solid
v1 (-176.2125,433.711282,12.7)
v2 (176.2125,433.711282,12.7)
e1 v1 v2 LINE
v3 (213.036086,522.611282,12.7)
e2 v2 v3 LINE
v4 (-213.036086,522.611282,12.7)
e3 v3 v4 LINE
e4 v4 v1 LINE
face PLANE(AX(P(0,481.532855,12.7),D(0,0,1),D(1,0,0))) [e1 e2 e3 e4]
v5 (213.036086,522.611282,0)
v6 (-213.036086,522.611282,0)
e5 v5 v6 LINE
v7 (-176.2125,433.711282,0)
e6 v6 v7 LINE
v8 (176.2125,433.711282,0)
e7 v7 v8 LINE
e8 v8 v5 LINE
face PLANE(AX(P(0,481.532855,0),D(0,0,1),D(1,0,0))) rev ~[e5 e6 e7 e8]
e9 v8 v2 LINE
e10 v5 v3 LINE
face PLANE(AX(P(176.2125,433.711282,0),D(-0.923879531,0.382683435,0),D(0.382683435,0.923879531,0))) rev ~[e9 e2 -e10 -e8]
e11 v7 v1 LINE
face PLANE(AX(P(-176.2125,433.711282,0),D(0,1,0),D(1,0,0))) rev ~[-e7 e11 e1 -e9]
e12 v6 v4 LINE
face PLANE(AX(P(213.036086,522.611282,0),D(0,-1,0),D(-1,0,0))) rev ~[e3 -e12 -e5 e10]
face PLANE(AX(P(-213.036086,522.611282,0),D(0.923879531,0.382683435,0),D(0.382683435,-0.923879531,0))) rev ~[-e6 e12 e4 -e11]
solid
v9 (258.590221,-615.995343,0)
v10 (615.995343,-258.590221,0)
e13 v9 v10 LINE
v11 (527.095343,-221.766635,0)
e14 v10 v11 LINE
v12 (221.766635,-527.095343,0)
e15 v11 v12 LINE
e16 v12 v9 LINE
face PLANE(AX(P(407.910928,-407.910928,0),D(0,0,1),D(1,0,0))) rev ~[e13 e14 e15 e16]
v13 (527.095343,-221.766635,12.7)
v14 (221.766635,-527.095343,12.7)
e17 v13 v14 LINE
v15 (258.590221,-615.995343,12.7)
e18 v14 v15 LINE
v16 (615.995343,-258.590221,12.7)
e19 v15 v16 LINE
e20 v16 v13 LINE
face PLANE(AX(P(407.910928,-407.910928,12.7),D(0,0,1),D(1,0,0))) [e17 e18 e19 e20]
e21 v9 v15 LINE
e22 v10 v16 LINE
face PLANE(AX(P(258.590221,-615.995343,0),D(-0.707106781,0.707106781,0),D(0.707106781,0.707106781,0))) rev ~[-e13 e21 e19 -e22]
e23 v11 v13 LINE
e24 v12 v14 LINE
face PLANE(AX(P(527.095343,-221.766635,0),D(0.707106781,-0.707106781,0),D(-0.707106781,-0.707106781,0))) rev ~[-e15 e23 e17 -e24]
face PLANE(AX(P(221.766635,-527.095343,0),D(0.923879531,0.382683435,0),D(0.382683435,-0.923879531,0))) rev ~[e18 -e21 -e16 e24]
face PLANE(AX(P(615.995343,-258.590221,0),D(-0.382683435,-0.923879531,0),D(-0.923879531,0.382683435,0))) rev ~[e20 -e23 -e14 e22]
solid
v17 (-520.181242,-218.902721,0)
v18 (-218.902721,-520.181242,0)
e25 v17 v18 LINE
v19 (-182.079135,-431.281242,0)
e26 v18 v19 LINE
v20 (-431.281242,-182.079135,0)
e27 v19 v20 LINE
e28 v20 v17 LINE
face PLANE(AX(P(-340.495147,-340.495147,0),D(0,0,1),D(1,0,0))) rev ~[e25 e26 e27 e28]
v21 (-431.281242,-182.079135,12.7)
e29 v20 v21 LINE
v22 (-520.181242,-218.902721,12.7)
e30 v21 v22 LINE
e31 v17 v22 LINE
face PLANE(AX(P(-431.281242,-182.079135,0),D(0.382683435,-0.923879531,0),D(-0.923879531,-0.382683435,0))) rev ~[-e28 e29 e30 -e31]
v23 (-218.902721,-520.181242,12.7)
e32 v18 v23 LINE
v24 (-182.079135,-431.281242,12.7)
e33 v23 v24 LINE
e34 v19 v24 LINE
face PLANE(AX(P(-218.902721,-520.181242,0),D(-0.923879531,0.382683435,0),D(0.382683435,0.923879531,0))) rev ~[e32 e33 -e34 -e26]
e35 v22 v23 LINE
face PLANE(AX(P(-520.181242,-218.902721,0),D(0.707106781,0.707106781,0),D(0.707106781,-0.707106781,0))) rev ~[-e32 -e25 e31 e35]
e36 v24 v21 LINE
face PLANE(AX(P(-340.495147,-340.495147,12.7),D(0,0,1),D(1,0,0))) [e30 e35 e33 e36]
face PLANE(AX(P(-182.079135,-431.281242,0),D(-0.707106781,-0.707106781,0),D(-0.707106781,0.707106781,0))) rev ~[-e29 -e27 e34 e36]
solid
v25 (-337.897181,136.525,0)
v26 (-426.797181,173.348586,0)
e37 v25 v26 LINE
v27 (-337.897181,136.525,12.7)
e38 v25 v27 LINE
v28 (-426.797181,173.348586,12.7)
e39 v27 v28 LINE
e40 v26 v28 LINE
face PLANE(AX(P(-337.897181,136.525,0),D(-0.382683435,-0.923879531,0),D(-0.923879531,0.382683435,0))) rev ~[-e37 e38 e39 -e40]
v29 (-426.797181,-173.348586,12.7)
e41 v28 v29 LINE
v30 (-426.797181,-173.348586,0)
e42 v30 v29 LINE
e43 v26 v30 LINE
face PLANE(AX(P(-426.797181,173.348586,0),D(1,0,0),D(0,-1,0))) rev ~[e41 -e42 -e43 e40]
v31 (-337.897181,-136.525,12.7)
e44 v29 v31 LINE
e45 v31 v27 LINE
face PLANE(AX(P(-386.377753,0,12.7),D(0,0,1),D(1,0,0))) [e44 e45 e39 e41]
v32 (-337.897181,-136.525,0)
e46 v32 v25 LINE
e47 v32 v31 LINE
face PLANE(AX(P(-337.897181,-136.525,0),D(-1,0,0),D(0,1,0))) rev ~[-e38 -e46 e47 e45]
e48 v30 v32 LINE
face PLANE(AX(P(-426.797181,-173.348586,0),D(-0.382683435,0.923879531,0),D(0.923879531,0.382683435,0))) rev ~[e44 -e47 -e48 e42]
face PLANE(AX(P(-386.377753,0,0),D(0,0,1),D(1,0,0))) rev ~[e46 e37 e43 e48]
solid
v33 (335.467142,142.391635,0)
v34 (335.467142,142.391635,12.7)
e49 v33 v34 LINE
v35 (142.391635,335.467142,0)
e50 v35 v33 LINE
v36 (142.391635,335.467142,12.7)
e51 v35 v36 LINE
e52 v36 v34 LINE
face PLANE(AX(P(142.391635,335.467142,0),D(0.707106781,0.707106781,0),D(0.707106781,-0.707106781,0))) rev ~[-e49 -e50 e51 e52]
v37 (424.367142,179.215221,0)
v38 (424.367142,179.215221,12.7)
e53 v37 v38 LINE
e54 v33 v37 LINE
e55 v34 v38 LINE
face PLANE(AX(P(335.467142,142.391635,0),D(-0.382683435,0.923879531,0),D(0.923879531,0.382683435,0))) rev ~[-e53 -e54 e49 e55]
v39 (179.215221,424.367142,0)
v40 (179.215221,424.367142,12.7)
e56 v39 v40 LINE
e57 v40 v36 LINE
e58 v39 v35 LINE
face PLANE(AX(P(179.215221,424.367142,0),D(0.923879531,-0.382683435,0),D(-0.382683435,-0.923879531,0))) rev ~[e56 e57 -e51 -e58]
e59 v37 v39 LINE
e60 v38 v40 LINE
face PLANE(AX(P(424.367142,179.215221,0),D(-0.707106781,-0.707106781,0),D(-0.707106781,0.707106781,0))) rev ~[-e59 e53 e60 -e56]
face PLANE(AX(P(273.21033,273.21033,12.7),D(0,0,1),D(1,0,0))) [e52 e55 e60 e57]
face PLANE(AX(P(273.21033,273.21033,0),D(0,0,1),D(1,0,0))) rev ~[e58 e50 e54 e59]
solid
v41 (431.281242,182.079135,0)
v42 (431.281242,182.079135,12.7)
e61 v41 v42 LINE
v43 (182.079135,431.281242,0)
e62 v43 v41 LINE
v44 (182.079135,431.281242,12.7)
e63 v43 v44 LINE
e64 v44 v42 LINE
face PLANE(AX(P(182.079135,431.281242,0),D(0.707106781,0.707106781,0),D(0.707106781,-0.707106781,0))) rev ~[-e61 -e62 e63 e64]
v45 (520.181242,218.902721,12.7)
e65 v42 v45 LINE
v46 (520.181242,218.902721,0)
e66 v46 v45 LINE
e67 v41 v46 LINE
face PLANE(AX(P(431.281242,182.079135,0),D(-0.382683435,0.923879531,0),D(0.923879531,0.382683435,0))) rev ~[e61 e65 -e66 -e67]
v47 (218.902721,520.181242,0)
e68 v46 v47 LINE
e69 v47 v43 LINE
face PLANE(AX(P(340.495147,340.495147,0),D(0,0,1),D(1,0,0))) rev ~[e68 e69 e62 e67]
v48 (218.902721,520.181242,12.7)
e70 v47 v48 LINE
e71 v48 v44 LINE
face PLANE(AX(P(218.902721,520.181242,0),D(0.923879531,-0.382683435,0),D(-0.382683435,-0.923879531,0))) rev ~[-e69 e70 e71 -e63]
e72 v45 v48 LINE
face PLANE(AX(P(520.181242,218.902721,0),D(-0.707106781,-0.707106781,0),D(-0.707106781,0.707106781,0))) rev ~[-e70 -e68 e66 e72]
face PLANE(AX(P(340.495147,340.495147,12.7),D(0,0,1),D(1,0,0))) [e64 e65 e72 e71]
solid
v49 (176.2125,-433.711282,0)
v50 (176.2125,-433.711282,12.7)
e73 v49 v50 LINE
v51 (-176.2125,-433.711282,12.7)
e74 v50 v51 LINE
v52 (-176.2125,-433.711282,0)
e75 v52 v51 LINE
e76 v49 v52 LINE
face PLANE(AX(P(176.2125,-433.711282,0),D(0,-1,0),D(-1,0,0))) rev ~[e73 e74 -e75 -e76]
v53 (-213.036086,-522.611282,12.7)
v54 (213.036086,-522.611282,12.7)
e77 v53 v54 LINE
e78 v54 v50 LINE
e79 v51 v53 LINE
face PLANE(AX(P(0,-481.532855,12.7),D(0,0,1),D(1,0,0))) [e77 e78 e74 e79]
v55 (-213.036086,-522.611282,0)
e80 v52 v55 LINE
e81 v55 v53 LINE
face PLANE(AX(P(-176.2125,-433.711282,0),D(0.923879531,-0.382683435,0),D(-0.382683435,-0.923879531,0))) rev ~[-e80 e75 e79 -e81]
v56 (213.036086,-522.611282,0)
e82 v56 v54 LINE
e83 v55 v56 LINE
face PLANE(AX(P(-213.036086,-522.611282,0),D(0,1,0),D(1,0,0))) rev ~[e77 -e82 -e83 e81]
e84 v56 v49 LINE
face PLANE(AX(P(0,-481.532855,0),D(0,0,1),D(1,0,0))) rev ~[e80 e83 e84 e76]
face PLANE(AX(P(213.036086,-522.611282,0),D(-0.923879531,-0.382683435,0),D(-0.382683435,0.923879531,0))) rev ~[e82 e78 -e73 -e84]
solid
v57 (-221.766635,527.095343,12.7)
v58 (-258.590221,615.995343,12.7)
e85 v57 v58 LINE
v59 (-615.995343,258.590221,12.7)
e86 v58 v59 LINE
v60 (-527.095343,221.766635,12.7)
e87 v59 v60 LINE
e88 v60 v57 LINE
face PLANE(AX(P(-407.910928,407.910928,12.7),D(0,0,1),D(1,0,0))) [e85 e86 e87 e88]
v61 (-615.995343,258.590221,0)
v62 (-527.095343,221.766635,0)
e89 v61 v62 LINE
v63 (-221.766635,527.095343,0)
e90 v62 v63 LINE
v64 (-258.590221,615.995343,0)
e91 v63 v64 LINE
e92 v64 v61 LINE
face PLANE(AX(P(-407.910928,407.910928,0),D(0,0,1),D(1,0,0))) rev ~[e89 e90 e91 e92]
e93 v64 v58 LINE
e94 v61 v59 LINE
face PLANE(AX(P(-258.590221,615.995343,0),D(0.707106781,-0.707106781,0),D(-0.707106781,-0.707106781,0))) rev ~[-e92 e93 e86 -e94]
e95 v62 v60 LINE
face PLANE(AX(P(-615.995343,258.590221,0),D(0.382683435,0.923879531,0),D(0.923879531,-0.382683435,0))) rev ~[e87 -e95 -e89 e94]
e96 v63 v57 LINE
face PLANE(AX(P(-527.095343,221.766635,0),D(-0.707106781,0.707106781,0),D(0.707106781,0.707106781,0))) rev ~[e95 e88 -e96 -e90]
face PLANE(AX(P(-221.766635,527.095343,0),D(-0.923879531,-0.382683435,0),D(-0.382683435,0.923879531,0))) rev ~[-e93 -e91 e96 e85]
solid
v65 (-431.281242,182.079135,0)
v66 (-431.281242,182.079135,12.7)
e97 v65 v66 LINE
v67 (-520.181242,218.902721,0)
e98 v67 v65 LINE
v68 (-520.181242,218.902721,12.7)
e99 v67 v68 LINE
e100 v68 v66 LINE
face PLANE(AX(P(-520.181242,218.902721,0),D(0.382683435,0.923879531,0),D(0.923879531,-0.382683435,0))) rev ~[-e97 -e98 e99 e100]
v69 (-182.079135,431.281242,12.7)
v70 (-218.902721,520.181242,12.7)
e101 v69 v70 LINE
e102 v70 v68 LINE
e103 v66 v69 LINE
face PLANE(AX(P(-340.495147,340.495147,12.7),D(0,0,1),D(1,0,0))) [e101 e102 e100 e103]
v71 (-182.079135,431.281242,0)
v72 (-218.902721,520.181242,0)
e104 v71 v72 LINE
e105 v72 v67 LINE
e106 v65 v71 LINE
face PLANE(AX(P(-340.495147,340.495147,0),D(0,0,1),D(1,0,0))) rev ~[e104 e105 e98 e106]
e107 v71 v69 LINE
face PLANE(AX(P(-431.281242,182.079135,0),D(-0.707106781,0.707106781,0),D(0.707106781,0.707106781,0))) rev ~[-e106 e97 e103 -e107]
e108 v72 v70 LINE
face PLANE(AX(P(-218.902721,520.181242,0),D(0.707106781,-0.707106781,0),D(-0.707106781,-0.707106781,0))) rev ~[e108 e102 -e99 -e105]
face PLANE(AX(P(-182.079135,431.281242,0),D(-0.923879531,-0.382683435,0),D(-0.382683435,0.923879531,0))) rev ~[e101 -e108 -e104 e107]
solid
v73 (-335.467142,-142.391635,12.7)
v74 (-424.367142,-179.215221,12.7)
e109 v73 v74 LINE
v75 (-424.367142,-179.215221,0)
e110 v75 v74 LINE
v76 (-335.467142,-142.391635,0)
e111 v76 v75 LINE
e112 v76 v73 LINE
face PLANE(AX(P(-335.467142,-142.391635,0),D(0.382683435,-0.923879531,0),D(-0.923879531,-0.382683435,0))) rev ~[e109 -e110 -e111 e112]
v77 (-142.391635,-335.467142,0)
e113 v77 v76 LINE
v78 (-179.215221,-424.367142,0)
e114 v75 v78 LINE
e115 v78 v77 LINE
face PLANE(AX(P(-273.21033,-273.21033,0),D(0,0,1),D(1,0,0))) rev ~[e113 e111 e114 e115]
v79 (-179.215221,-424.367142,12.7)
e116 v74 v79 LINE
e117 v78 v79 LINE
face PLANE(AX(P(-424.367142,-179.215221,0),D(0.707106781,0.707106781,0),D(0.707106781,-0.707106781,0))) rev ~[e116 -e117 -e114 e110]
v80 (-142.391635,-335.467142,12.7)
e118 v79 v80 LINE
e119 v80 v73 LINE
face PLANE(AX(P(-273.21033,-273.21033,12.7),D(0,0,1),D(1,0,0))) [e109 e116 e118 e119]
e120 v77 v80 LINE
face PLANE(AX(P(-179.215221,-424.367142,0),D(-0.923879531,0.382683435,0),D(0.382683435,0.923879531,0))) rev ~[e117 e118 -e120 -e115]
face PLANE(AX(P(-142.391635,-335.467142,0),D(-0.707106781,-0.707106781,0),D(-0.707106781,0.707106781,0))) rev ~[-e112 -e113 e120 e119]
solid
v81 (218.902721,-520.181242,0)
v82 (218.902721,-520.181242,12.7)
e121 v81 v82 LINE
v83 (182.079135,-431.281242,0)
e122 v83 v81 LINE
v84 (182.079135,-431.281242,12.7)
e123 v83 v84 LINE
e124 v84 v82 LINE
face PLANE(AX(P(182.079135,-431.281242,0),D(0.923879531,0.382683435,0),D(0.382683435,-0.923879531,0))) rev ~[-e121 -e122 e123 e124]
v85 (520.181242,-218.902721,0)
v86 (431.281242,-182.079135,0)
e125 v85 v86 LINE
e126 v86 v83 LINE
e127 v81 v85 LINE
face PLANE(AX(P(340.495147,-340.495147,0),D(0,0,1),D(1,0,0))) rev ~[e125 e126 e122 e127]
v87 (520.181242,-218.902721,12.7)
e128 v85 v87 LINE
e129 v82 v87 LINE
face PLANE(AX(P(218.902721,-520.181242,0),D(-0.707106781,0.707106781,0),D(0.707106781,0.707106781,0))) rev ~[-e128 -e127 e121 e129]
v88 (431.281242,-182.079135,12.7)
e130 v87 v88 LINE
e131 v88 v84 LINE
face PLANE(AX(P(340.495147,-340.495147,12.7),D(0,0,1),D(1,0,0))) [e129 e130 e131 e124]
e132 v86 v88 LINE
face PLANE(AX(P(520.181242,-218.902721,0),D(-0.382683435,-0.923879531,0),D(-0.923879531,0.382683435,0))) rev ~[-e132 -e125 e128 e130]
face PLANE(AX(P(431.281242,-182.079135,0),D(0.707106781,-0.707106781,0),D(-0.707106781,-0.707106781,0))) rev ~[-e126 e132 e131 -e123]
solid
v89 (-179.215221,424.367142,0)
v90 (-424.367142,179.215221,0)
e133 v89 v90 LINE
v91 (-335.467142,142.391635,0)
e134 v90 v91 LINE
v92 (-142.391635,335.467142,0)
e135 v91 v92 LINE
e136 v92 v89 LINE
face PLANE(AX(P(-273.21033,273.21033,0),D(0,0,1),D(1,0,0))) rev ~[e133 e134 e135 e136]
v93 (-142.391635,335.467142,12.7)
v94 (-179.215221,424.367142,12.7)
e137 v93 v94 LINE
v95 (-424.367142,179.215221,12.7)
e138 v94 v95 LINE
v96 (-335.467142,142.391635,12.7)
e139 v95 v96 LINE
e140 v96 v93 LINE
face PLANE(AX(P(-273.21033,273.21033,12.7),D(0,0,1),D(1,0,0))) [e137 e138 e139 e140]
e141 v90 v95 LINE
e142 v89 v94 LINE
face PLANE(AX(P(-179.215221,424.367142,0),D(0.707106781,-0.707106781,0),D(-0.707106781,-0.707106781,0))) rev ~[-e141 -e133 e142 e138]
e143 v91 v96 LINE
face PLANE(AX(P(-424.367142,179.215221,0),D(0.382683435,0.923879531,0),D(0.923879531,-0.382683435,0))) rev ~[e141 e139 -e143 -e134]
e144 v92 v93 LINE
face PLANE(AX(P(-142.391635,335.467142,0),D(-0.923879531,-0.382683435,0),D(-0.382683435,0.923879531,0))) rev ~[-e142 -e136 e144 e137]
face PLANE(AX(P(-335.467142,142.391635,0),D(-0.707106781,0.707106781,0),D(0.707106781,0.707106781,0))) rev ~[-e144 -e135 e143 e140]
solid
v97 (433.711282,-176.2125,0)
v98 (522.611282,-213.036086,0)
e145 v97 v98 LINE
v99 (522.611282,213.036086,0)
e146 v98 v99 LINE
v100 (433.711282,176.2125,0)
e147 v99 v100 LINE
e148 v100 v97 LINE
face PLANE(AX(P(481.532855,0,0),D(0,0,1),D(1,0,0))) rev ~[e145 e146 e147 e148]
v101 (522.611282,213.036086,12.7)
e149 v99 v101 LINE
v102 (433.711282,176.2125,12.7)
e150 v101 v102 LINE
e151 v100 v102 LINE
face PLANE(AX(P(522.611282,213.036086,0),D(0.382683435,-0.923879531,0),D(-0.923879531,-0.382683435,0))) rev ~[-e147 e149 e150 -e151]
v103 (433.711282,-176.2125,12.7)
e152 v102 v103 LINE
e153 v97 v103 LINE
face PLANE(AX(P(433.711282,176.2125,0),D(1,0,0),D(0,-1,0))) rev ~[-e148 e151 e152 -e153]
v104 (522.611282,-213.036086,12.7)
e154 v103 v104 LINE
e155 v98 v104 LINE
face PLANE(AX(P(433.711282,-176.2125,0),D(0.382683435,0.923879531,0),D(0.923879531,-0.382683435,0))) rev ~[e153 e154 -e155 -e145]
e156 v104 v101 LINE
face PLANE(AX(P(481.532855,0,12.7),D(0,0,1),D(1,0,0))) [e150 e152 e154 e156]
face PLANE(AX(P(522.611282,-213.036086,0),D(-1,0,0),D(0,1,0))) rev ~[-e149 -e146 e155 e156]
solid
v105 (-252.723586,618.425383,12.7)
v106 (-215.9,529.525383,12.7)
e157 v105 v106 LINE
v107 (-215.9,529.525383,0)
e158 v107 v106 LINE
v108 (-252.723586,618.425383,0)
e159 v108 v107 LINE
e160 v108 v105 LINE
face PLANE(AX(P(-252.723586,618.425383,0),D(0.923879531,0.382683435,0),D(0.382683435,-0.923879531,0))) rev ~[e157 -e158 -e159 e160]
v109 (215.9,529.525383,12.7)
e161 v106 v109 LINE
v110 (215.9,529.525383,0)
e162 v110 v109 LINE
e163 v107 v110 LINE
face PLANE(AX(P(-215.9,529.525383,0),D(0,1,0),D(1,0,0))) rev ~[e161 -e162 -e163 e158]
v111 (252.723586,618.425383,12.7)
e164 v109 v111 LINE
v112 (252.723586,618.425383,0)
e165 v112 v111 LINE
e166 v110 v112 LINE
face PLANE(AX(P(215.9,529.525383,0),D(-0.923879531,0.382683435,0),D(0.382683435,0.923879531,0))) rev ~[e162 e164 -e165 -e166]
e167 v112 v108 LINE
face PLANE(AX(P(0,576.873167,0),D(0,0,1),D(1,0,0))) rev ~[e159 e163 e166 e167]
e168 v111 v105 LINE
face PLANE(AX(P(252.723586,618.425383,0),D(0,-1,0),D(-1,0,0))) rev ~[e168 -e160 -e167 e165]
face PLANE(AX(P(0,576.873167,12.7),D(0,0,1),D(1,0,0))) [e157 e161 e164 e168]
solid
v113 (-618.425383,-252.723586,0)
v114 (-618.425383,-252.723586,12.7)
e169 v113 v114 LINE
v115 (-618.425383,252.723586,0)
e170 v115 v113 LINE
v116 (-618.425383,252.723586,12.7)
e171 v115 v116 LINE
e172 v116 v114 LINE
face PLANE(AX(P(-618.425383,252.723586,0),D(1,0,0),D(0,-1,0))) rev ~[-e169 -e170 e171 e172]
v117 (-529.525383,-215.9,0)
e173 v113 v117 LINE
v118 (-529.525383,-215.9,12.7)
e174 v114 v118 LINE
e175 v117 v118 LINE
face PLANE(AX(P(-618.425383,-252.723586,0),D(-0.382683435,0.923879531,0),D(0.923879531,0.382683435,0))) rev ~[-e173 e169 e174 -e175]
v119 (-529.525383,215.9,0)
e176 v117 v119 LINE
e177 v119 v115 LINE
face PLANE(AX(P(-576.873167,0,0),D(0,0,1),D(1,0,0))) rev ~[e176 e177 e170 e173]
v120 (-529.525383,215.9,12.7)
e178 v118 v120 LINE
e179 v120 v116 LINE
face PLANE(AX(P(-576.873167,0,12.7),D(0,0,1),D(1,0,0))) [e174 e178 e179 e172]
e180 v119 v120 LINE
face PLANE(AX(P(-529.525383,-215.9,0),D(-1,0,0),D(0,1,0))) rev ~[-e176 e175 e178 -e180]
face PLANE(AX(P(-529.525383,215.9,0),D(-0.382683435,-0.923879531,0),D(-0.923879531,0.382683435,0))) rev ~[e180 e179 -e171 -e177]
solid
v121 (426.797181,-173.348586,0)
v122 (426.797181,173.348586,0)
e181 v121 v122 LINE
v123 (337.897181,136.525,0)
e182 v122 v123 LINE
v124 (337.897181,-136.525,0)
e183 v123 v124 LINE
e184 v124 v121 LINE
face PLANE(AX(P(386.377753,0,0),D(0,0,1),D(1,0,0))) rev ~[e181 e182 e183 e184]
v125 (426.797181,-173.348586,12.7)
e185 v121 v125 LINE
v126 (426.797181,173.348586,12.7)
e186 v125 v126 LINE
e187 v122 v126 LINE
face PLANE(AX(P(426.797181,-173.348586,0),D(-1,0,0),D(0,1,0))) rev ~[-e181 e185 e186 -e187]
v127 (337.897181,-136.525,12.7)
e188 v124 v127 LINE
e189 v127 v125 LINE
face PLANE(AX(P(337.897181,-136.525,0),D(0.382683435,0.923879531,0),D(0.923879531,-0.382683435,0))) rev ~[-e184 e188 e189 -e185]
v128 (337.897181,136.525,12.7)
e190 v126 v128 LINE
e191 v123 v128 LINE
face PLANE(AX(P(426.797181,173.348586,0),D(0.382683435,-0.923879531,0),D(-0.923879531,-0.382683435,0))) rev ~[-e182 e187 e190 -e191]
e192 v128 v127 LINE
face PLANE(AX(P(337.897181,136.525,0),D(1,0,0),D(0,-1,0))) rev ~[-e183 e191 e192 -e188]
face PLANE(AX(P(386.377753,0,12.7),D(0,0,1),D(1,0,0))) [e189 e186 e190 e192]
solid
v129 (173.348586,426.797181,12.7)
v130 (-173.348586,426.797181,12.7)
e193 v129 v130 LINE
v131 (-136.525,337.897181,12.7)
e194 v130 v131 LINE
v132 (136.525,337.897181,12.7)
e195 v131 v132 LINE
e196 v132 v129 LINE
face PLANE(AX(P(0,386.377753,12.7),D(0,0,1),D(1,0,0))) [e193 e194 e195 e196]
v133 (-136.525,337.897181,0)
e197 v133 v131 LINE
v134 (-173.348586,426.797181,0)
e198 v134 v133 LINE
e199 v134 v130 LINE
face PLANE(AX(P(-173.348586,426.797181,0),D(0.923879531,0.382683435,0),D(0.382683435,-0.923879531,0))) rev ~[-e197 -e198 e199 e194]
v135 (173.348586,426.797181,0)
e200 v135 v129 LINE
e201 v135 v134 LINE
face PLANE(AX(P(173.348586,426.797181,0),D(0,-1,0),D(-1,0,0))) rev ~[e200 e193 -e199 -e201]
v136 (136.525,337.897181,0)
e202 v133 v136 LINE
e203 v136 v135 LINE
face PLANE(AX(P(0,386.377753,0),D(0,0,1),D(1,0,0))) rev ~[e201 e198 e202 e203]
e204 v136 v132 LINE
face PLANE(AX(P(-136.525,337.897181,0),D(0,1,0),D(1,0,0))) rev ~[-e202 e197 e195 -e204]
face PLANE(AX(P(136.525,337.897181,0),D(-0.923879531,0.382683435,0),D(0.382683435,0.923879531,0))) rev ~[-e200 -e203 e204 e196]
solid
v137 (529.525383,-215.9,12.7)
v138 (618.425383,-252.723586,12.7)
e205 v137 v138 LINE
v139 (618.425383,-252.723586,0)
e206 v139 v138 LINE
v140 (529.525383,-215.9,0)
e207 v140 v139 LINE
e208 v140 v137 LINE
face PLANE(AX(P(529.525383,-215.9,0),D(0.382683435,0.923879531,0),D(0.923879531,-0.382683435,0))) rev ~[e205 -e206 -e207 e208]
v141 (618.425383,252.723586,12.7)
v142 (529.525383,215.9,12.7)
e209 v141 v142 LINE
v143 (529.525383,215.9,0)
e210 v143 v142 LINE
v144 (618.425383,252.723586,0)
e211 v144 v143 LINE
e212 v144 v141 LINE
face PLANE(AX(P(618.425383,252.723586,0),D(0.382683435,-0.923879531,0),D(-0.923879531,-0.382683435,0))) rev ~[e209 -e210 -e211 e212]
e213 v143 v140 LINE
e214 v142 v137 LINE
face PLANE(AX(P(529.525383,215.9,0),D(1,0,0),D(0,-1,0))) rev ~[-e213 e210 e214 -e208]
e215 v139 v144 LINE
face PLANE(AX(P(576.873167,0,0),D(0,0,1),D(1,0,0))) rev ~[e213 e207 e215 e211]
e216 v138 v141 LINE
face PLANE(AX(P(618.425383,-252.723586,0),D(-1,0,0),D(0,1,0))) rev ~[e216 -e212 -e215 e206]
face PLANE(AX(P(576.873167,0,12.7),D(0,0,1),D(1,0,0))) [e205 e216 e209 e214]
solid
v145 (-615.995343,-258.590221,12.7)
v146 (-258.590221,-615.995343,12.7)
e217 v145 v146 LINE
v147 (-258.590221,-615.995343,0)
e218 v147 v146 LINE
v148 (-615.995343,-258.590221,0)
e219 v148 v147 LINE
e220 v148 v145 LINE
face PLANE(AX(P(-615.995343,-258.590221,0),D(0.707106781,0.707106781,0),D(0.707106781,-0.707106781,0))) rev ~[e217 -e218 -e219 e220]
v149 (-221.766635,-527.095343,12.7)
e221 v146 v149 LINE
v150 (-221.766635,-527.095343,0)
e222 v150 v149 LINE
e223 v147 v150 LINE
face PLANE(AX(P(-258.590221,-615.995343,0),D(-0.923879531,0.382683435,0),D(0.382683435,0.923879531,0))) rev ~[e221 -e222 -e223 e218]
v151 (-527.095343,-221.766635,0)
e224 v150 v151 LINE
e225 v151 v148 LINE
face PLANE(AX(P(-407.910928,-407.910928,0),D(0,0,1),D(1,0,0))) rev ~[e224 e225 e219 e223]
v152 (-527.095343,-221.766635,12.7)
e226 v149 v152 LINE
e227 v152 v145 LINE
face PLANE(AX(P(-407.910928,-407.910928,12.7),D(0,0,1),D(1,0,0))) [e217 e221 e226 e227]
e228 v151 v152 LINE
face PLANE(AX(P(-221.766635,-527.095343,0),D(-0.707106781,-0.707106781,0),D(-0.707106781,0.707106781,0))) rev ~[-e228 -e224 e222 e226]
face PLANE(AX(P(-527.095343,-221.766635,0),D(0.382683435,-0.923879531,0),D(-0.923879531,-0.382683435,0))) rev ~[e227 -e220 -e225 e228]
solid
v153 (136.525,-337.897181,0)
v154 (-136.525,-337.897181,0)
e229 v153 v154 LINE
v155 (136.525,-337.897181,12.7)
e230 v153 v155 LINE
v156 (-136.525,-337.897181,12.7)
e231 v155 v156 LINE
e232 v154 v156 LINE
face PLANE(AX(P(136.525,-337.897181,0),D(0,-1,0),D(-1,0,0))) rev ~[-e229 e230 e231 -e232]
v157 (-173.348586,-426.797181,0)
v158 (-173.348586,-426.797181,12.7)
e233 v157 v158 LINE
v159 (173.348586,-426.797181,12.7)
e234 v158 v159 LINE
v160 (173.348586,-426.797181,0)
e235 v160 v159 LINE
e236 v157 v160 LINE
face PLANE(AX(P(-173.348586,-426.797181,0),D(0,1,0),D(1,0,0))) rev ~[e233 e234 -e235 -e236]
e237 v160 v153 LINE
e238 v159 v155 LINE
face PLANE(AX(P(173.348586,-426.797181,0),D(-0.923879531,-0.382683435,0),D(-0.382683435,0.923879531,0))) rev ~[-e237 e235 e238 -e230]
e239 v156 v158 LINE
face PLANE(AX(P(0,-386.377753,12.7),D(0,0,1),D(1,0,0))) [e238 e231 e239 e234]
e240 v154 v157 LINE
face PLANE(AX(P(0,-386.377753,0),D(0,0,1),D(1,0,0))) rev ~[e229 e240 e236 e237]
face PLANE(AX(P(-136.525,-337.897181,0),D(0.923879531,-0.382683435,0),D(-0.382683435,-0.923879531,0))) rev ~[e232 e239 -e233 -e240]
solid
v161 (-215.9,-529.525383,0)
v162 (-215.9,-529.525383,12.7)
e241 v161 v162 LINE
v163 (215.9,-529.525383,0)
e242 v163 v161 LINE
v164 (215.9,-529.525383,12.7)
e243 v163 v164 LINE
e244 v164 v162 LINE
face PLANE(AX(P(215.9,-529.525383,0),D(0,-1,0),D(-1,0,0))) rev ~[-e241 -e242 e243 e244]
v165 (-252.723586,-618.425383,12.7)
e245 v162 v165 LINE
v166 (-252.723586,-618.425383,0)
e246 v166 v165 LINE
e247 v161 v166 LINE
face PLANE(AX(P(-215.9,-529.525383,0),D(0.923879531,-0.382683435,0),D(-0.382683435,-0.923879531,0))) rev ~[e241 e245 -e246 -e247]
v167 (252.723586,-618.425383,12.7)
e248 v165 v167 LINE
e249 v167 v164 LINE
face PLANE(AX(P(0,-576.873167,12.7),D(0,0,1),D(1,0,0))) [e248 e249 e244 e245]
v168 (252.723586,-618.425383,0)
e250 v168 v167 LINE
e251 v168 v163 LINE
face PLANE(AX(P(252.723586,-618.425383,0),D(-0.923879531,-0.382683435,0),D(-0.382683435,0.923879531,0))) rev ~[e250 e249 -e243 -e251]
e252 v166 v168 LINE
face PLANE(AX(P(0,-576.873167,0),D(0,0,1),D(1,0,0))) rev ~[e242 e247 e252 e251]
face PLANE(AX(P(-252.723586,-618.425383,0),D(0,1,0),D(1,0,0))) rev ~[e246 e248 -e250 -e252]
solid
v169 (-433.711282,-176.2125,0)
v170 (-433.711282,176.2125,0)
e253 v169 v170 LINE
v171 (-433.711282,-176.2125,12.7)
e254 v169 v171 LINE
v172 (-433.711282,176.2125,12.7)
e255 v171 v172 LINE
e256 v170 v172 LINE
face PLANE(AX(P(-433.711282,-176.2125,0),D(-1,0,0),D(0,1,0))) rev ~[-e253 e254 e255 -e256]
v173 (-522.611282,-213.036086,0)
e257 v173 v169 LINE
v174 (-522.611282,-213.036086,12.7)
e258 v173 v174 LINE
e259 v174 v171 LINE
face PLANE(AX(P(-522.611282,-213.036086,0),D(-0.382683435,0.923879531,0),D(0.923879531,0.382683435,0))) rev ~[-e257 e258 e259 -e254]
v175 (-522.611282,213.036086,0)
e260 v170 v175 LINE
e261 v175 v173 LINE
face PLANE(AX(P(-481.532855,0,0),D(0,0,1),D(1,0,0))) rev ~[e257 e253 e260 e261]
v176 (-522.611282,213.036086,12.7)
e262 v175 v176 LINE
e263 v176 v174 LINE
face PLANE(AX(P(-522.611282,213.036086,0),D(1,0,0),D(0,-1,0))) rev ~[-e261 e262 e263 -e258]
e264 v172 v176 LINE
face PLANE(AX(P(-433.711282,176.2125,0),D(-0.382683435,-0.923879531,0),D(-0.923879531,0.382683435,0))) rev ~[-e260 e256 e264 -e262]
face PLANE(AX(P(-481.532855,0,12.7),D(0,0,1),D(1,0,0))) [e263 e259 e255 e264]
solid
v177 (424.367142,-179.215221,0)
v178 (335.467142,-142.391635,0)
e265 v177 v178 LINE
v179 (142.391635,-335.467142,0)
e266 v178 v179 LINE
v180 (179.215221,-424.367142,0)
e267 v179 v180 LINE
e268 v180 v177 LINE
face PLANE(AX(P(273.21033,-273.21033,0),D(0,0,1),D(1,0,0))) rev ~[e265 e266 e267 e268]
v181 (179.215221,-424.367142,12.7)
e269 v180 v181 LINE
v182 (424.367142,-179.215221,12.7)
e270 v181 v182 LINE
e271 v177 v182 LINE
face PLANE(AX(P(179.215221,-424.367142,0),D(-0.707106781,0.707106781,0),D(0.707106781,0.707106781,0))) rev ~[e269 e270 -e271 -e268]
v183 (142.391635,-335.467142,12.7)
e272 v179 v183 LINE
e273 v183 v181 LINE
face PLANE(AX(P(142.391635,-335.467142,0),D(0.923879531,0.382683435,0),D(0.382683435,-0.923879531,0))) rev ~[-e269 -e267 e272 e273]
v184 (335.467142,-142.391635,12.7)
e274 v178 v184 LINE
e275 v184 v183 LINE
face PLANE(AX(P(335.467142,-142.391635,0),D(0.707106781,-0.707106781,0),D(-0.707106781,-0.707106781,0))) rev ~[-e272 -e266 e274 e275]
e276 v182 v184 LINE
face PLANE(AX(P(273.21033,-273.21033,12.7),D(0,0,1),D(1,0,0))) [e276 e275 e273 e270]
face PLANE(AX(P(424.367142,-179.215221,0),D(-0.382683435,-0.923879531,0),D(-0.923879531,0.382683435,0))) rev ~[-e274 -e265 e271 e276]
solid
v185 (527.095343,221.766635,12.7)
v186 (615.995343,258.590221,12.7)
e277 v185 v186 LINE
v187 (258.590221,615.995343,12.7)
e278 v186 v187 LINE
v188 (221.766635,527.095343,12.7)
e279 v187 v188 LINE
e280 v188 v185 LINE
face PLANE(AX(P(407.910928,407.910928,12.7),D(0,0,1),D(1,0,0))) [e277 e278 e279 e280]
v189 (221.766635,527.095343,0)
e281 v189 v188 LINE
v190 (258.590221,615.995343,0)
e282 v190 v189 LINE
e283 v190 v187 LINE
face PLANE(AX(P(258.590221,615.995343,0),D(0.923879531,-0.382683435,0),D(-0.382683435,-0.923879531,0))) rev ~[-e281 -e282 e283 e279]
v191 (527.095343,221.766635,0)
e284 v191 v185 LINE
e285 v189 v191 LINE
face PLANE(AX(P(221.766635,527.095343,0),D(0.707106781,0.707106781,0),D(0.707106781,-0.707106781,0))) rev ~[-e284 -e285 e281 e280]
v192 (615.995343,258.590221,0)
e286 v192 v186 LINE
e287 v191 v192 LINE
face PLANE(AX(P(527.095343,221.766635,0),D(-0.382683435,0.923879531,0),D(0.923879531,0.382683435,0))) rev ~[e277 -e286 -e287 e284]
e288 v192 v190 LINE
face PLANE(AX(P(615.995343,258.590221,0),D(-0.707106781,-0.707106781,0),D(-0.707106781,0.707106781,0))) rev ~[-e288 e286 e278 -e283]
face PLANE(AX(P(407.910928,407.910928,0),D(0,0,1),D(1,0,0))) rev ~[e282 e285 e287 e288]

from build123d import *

# Parameters (mm, degrees)
F1_DEPTH = 12.7
F3_DEPTH = 12.7
F5_DEPTH = 12.7


with BuildPart() as f1:
    # F0 (on Top) → F1 (new body)
    with BuildSketch(Plane.XY):
        Polygon((-136.525, 337.897181), (136.525, 337.897181), (173.348586, 426.797181), (-173.348586, 426.797181), align=None)
        Polygon((-179.215221, 424.367142), (-424.367142, 179.215221), (-335.467142, 142.391635), (-142.391635, 335.467142), align=None)
        Polygon((-426.797181, 173.348586), (-426.797181, -173.348586), (-337.897181, -136.525), (-337.897181, 136.525), align=None)
        Polygon((-424.367142, -179.215221), (-179.215221, -424.367142), (-142.391635, -335.467142), (-335.467142, -142.391635), align=None)
        Polygon((-173.348586, -426.797181), (173.348586, -426.797181), (136.525, -337.897181), (-136.525, -337.897181), align=None)
        Polygon((179.215221, -424.367142), (424.367142, -179.215221), (335.467142, -142.391635), (142.391635, -335.467142), align=None)
        Polygon((426.797181, -173.348586), (426.797181, 173.348586), (337.897181, 136.525), (337.897181, -136.525), align=None)
        Polygon((424.367142, 179.215221), (179.215221, 424.367142), (142.391635, 335.467142), (335.467142, 142.391635), align=None)
    extrude(amount=F1_DEPTH)


with BuildPart() as f3:
    # F2 (on Top) → F3 (new body)
    with BuildSketch(Plane.XY):
        Polygon((213.036086, 522.611282), (-213.036086, 522.611282), (-176.2125, 433.711282), (176.2125, 433.711282), align=None)
        Polygon((-520.181242, 218.902721), (-431.281242, 182.079135), (-182.079135, 431.281242), (-218.902721, 520.181242), align=None)
        Polygon((-522.611282, -213.036086), (-433.711282, -176.2125), (-433.711282, 176.2125), (-522.611282, 213.036086), align=None)
        Polygon((-218.902721, -520.181242), (-182.079135, -431.281242), (-431.281242, -182.079135), (-520.181242, -218.902721), align=None)
        Polygon((213.036086, -522.611282), (176.2125, -433.711282), (-176.2125, -433.711282), (-213.036086, -522.611282), align=None)
        Polygon((520.181242, -218.902721), (431.281242, -182.079135), (182.079135, -431.281242), (218.902721, -520.181242), align=None)
        Polygon((522.611282, 213.036086), (433.711282, 176.2125), (433.711282, -176.2125), (522.611282, -213.036086), align=None)
        Polygon((218.902721, 520.181242), (182.079135, 431.281242), (431.281242, 182.079135), (520.181242, 218.902721), align=None)
    extrude(amount=F3_DEPTH)


with BuildPart() as f5:
    # F4 (on Top) → F5 (new body)
    with BuildSketch(Plane.XY):
        Polygon((252.723586, 618.425383), (-252.723586, 618.425383), (-215.9, 529.525383), (215.9, 529.525383), align=None)
        Polygon((-615.995343, 258.590221), (-527.095343, 221.766635), (-221.766635, 527.095343), (-258.590221, 615.995343), align=None)
        Polygon((-618.425383, -252.723586), (-529.525383, -215.9), (-529.525383, 215.9), (-618.425383, 252.723586), align=None)
        Polygon((-258.590221, -615.995343), (-221.766635, -527.095343), (-527.095343, -221.766635), (-615.995343, -258.590221), align=None)
        Polygon((252.723586, -618.425383), (215.9, -529.525383), (-215.9, -529.525383), (-252.723586, -618.425383), align=None)
        Polygon((615.995343, -258.590221), (527.095343, -221.766635), (221.766635, -527.095343), (258.590221, -615.995343), align=None)
        Polygon((618.425383, 252.723586), (529.525383, 215.9), (529.525383, -215.9), (618.425383, -252.723586), align=None)
        Polygon((258.590221, 615.995343), (221.766635, 527.095343), (527.095343, 221.766635), (615.995343, 258.590221), align=None)
    extrude(amount=F5_DEPTH)


solid = Compound([f1.part, f3.part, f5.part])
